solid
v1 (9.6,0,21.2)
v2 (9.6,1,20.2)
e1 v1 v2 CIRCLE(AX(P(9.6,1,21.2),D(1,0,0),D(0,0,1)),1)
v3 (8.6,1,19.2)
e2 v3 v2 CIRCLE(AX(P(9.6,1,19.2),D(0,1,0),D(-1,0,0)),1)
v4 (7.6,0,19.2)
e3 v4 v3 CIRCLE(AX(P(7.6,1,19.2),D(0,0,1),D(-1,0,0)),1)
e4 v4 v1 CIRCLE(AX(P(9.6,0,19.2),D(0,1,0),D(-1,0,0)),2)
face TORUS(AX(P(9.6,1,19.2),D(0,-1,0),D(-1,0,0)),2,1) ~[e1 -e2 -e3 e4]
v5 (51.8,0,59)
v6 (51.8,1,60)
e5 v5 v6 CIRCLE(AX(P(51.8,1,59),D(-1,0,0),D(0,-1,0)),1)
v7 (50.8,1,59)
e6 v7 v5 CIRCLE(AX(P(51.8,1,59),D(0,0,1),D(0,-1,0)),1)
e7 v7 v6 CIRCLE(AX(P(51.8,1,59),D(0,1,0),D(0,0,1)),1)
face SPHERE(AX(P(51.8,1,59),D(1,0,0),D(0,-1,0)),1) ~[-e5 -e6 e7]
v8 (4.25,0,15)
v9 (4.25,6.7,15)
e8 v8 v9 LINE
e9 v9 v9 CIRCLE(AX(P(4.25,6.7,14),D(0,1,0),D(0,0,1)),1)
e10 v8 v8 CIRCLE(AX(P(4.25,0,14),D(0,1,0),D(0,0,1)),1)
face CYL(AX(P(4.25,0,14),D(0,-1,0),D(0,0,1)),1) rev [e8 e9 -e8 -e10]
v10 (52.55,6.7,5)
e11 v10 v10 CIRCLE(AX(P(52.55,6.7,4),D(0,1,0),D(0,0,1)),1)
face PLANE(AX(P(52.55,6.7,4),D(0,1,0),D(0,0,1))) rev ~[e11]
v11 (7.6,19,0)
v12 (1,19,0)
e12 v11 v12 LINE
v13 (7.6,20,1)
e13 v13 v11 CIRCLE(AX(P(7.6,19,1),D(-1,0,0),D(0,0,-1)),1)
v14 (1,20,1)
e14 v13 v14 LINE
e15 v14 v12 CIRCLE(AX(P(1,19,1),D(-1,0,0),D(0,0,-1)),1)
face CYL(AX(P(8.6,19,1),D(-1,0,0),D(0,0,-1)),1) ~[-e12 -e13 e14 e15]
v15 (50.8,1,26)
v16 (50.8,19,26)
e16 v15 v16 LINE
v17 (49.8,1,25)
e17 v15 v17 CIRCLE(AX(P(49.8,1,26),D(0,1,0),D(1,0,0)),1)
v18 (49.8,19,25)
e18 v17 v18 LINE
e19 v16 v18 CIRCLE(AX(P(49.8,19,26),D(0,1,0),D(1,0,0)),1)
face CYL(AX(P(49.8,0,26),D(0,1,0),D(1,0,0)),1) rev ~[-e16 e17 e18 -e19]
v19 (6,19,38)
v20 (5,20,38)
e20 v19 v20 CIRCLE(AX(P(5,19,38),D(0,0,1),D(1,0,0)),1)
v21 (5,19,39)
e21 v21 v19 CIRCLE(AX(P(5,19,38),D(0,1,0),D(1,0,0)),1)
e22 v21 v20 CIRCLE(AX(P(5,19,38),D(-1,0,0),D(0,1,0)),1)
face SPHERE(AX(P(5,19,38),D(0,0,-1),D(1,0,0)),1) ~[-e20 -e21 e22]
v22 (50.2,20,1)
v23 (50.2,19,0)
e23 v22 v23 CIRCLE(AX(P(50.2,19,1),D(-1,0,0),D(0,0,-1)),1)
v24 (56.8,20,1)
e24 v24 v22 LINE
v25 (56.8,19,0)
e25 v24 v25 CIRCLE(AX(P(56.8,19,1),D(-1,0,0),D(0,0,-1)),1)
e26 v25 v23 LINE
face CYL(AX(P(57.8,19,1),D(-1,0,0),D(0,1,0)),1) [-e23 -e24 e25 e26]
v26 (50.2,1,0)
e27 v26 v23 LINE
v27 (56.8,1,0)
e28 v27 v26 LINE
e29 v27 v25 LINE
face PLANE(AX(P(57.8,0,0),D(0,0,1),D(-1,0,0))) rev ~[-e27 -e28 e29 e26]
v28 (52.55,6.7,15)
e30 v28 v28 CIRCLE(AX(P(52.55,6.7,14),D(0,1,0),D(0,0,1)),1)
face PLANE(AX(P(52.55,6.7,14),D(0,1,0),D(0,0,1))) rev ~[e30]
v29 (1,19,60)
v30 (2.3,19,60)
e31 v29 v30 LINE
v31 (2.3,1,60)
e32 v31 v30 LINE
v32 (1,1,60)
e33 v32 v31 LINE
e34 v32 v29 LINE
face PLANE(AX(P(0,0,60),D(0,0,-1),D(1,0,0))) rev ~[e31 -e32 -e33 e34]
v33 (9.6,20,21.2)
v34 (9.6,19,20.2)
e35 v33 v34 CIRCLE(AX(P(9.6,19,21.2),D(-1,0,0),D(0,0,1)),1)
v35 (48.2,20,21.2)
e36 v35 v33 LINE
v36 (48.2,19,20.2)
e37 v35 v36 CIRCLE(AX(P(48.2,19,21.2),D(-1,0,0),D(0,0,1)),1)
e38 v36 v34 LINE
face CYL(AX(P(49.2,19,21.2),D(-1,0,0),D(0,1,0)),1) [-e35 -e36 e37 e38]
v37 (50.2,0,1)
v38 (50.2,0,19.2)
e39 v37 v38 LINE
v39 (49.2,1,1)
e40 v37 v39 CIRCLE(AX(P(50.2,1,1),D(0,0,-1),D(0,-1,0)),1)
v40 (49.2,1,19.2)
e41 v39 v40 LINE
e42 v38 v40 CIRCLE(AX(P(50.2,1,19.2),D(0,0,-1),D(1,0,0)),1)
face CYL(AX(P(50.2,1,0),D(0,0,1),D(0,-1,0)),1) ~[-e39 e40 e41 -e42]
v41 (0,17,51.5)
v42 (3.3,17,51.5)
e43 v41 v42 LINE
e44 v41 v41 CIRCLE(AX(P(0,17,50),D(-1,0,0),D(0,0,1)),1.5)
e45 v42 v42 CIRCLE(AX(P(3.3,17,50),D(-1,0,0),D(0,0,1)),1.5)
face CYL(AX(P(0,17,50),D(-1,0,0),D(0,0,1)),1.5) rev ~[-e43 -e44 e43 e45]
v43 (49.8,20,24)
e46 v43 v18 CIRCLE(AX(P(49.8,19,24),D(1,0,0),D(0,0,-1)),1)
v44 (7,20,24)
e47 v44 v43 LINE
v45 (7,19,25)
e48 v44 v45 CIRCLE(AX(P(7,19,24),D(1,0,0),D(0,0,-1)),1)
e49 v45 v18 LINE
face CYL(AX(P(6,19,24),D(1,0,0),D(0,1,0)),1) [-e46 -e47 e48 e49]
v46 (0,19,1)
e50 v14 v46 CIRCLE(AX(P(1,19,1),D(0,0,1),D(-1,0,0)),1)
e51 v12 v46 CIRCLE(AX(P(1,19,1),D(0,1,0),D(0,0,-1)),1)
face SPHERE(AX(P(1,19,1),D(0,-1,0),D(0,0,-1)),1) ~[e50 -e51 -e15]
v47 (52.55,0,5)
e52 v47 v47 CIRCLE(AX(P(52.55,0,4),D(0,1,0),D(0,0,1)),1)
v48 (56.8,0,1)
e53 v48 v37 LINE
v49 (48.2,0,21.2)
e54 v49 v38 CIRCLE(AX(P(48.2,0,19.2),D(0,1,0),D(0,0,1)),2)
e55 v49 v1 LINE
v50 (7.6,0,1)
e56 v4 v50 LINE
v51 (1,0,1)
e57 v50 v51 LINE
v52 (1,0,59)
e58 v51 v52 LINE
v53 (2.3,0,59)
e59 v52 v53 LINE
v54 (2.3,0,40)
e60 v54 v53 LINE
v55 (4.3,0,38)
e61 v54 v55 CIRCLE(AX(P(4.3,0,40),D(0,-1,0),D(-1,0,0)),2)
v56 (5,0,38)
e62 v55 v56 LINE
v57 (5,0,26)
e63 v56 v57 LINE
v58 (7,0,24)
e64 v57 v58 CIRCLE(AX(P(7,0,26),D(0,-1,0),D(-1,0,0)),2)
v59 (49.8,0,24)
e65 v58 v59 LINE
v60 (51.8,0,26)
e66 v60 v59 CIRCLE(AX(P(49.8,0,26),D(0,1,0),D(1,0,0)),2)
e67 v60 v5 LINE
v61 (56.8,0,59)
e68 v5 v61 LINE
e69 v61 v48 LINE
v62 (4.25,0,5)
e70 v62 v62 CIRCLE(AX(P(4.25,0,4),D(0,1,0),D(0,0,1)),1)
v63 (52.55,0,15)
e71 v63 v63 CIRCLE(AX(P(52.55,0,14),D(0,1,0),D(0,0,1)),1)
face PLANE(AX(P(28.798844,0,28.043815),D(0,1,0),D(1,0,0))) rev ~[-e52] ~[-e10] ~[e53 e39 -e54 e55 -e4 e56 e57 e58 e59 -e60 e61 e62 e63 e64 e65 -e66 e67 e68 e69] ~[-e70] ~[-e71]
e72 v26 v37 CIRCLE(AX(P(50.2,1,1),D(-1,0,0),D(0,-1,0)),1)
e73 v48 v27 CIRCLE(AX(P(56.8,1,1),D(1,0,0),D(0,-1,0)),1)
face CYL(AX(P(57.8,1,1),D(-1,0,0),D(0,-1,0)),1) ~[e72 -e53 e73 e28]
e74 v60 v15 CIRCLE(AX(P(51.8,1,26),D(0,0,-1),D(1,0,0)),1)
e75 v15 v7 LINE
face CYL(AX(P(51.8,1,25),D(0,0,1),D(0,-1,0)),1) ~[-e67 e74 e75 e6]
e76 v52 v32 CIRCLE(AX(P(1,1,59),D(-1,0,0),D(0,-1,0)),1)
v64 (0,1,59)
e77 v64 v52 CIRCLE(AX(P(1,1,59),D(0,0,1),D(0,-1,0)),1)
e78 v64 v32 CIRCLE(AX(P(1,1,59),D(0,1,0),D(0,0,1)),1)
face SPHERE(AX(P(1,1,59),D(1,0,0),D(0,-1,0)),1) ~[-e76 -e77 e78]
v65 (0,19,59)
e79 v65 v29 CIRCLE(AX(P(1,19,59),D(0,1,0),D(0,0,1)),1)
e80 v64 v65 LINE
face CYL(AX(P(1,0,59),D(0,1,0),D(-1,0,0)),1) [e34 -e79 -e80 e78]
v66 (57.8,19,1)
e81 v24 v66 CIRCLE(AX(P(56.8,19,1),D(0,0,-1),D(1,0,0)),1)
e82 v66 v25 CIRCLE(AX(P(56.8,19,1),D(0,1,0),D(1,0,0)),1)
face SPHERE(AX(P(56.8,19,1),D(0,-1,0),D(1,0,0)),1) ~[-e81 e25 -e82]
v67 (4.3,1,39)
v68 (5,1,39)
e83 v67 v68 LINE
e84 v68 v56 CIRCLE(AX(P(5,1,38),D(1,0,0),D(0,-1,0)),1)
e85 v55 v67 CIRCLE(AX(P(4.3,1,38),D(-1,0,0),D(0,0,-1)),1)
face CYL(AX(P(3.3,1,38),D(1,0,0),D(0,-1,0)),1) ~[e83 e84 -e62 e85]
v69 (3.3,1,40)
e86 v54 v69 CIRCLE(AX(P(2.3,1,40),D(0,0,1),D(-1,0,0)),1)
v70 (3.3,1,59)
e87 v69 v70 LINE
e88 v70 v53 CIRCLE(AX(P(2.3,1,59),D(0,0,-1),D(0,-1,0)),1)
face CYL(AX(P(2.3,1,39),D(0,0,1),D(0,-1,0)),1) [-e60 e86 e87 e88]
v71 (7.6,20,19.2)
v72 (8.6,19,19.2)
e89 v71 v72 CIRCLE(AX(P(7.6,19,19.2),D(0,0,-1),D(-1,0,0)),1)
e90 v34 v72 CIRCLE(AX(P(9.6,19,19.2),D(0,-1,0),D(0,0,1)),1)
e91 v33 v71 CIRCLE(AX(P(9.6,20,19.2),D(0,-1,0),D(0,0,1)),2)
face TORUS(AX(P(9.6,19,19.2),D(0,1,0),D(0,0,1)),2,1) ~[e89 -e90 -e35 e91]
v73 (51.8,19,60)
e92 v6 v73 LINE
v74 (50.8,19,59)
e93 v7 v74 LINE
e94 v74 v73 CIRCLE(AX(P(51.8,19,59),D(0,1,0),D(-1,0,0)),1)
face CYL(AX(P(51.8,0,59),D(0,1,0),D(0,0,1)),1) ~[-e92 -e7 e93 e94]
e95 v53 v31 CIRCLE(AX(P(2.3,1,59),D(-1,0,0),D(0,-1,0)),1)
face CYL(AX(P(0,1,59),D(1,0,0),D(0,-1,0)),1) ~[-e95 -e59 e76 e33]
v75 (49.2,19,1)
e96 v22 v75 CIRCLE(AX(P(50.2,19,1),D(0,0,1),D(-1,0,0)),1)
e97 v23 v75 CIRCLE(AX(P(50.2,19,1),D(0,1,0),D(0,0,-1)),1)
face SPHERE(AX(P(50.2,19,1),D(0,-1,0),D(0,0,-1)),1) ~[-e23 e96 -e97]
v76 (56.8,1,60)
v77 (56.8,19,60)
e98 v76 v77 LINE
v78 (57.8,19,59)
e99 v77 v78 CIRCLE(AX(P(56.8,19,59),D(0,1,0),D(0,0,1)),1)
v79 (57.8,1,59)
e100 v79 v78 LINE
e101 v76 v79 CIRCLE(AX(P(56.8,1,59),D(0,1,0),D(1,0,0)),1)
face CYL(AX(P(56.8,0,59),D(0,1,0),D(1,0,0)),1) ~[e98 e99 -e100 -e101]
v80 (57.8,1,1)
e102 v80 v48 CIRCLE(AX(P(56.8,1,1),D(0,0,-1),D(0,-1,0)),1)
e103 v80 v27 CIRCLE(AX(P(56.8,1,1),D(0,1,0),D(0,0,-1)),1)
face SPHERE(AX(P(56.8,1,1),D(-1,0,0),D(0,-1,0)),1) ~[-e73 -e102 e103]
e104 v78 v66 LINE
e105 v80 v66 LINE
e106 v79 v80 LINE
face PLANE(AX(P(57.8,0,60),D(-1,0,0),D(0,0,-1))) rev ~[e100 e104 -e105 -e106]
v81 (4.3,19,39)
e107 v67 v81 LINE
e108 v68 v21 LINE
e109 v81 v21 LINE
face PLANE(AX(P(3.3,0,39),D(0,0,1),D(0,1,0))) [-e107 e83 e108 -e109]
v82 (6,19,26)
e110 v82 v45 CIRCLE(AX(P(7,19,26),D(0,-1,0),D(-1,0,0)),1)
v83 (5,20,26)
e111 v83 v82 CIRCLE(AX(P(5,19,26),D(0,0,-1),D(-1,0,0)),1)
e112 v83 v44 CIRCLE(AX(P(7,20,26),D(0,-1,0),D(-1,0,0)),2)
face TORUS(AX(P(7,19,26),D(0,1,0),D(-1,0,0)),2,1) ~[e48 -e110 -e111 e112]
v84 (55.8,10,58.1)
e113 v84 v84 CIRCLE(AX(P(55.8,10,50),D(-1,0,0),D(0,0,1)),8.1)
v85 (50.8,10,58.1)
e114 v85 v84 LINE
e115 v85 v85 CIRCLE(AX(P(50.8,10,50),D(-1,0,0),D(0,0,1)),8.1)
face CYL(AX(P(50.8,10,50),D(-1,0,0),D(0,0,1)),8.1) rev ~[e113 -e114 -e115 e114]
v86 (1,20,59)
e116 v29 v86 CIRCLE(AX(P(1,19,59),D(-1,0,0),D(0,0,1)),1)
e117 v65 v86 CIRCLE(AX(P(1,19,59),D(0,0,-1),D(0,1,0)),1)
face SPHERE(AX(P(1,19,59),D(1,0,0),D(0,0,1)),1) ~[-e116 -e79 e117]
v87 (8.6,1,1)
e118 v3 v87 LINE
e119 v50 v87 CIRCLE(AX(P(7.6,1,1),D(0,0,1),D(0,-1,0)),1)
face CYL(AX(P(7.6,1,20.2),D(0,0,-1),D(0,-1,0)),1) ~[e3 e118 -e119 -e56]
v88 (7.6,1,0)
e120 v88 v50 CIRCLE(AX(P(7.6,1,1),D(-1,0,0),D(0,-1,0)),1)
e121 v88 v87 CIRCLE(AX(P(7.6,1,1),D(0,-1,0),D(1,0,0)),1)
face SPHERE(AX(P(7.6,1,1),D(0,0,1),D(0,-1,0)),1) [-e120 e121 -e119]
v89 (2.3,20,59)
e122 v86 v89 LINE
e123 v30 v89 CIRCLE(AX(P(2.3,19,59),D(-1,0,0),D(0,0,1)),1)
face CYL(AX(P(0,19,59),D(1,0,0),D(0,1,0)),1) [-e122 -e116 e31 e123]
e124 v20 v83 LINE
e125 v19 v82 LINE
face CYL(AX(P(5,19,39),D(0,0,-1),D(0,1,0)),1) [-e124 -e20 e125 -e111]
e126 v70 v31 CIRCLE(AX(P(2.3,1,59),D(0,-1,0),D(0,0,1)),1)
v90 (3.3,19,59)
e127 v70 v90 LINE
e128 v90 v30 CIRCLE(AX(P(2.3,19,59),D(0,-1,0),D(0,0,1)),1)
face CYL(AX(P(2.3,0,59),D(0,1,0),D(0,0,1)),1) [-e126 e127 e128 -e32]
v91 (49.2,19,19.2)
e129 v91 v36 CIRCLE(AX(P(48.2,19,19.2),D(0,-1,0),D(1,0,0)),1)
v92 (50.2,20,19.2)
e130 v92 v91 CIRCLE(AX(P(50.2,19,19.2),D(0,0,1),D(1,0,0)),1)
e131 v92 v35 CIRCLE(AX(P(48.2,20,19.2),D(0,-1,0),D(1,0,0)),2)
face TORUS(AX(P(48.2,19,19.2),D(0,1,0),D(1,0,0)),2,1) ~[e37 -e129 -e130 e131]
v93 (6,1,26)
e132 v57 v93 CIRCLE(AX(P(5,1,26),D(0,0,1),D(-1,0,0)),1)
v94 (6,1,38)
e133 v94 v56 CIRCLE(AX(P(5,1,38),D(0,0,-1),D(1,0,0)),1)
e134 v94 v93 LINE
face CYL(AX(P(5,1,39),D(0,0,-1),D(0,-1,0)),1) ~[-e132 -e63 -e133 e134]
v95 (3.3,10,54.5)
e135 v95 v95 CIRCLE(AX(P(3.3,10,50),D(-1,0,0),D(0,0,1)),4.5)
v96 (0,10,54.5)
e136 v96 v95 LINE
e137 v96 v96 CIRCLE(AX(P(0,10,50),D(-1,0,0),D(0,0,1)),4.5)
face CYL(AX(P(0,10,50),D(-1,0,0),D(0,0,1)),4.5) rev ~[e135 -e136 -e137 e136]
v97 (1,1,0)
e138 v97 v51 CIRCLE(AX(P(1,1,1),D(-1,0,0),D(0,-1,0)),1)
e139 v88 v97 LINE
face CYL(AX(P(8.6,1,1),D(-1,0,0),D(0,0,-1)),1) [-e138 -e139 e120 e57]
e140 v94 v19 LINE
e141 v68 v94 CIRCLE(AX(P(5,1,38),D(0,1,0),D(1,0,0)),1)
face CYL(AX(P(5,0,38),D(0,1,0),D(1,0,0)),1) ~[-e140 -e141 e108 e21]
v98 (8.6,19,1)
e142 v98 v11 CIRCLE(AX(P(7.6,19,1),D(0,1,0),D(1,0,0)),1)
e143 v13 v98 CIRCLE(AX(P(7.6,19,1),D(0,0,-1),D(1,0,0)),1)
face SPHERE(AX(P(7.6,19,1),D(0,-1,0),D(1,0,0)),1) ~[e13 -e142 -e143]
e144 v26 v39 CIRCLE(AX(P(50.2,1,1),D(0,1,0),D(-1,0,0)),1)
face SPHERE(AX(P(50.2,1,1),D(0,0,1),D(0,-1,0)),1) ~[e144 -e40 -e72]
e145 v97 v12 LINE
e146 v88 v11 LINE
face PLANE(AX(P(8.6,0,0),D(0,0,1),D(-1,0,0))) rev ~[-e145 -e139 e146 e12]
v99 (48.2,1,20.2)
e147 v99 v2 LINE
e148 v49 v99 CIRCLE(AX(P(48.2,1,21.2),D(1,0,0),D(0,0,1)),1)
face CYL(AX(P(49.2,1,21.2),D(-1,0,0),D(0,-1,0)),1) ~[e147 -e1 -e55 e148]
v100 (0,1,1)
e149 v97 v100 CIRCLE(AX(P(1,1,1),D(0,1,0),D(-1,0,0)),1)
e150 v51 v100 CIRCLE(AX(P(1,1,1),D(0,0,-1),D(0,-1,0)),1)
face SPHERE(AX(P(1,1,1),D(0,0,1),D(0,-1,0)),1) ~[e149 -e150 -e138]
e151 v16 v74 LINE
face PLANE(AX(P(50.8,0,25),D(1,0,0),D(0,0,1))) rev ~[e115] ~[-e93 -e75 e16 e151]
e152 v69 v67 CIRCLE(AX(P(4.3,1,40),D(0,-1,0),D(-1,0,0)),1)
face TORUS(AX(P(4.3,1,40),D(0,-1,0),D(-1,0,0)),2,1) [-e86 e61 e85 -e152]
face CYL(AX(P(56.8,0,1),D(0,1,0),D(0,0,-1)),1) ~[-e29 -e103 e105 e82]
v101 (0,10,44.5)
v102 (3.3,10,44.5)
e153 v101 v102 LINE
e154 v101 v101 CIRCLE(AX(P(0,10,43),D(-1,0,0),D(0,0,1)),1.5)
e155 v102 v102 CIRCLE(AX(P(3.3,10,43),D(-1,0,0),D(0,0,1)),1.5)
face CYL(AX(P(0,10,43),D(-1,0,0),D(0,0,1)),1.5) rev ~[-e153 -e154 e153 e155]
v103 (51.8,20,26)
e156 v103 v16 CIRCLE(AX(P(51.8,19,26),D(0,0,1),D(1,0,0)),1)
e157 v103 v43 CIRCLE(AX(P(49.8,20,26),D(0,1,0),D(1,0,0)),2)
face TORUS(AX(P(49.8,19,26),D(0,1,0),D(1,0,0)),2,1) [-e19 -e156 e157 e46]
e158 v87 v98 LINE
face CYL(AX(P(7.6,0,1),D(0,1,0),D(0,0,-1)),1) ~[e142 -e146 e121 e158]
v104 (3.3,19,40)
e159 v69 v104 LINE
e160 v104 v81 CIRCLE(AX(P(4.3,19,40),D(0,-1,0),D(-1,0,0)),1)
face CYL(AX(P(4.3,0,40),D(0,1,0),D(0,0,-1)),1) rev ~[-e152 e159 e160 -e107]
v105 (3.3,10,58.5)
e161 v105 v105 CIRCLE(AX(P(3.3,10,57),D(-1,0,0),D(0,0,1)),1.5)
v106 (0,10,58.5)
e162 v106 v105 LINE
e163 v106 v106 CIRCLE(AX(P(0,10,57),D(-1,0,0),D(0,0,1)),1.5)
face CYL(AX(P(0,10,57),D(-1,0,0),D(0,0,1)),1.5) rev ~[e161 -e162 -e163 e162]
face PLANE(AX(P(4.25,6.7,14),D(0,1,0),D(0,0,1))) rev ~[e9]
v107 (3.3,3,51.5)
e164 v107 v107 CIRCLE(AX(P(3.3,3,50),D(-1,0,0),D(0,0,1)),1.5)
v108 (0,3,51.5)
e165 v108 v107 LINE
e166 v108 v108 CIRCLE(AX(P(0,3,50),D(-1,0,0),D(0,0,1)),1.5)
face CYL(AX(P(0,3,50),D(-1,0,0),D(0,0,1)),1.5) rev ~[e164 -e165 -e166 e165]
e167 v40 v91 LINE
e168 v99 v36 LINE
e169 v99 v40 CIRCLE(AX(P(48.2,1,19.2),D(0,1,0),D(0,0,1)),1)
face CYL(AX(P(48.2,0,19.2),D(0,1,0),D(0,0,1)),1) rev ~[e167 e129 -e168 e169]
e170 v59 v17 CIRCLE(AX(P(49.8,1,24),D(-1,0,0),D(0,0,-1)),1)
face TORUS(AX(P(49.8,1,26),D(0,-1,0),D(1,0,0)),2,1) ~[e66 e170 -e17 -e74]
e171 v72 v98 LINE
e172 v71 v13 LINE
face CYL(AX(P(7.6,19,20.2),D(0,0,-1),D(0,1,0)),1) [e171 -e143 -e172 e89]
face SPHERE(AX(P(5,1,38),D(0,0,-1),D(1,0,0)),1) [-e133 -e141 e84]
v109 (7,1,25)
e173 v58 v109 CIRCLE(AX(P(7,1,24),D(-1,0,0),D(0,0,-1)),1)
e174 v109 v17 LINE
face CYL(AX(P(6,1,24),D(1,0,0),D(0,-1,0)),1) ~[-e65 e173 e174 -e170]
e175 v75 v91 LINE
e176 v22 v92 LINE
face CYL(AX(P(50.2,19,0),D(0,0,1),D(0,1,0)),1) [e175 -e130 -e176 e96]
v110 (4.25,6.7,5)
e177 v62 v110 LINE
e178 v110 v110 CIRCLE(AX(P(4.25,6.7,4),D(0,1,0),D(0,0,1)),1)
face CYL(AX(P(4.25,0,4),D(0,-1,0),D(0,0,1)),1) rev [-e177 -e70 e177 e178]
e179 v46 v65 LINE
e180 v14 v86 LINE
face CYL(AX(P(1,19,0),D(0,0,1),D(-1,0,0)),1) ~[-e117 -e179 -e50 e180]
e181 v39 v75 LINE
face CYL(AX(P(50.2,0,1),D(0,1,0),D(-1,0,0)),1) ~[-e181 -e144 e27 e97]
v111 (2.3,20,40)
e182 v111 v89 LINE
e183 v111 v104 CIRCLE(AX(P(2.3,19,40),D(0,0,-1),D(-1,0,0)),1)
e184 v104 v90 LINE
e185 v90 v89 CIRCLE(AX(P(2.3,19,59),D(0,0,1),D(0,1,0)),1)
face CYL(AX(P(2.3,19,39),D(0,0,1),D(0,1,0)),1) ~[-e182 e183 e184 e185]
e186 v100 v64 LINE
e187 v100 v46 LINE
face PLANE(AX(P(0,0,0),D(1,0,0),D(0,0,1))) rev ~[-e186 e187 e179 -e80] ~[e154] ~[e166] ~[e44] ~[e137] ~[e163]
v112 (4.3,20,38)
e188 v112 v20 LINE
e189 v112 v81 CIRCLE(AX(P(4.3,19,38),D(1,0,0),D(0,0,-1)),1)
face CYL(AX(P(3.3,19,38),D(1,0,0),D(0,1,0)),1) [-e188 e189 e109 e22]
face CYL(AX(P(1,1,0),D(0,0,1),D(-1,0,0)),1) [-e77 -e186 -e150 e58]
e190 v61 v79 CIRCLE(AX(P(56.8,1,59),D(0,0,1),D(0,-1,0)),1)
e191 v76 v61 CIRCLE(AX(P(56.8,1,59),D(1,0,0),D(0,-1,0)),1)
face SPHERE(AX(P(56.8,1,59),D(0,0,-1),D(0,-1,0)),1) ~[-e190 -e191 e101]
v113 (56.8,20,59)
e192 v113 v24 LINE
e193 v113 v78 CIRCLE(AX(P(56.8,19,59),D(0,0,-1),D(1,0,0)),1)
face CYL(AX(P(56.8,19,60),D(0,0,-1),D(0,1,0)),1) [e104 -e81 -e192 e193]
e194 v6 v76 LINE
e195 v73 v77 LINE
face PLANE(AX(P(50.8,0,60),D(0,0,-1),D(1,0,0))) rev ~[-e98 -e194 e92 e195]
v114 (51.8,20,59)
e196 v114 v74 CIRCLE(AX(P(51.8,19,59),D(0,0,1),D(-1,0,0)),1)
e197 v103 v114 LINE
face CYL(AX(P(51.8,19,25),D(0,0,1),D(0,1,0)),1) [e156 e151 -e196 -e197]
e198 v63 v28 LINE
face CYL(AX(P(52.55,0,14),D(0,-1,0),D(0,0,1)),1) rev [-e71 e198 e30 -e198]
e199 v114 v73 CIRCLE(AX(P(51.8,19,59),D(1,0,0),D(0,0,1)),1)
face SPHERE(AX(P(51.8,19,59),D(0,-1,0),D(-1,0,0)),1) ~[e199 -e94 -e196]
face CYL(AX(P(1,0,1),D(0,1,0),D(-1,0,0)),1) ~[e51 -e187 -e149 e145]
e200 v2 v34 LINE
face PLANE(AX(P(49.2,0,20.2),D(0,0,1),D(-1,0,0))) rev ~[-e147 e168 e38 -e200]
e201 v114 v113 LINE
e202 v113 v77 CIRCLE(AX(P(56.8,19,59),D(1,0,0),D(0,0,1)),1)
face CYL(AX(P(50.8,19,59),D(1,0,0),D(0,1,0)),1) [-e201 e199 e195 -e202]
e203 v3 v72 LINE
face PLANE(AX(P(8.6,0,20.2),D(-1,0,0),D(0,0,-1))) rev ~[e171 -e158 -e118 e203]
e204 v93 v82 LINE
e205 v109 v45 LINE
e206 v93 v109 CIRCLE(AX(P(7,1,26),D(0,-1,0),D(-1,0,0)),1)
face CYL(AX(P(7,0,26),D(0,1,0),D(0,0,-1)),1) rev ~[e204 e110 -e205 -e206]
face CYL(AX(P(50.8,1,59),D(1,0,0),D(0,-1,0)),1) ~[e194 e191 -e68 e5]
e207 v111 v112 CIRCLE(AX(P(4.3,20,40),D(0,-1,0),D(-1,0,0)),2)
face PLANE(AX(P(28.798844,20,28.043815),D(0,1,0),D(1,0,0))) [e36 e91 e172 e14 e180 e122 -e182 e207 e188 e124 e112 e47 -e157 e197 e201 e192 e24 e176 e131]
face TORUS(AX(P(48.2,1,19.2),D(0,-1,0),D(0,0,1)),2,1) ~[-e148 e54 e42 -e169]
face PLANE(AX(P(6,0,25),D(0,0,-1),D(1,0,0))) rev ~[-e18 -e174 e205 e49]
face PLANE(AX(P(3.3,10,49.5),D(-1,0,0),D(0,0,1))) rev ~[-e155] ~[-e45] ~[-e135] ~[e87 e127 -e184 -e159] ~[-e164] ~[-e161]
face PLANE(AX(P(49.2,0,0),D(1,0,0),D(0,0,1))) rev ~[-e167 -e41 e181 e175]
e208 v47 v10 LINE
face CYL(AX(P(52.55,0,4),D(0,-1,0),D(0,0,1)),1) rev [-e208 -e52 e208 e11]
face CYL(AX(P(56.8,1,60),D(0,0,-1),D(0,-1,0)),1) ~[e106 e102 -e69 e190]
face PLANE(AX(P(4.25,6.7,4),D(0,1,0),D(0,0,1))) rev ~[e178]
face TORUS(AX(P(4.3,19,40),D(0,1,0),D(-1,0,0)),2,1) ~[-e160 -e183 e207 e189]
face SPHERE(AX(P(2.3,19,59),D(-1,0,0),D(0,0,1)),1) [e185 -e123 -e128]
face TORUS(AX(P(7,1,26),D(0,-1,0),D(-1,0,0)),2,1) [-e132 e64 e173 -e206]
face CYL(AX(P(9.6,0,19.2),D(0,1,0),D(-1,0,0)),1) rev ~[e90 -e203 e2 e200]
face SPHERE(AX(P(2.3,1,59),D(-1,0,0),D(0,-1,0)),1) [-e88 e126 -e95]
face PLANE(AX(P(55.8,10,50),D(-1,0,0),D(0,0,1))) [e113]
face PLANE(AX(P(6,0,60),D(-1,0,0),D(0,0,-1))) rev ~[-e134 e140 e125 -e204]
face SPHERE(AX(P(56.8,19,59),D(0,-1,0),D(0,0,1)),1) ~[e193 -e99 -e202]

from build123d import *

# Parameters (mm, degrees)
BOSS_EXTRUDE1_DEPTH = 20
SKETCH4_R           = 1.5
SKETCH4_R_2         = 4.5
CUT_EXTRUDE1_DEPTH  = 10
CUT_EXTRUDE3_START  = -3.3
SKETCH8_W           = 21
SKETCH8_H           = 20
CUT_EXTRUDE3_DEPTH  = 2.7
FILLET1_R           = 1
CUT_EXTRUDE2_START  = -20
SKETCH6_R           = 1
CUT_EXTRUDE2_DEPTH  = 6.7
SKETCH3_R           = 8.1
CUT_EXTRUDE4_DEPTH  = 5


with BuildPart() as part:
    # Sketch1 → Boss-Extrude1 (new body)
    with BuildSketch(Plane(origin=(0, 0, 0), x_dir=(1, 0, 0), z_dir=(0, 1, 0))):
        Polygon((0, 0), (0, -60), (6, -60), (6, -25), (50.8, -25), (50.8, -60), (57.8, -60), (57.8, 0), (49.2, 0), (49.2, -20.2), (8.6, -20.2), (8.6, 0), align=None)
    extrude(amount=BOSS_EXTRUDE1_DEPTH)

    # Sketch4 → Cut-Extrude1 (cut)
    with BuildSketch(Plane.ZY):
        with Locations((50, 17)):
            Circle(SKETCH4_R)
        with Locations((57, 10)):
            Circle(SKETCH4_R)
        with Locations((50, 3)):
            Circle(SKETCH4_R)
        with Locations((43, 10)):
            Circle(SKETCH4_R)
        with Locations((50, 10)):
            Circle(SKETCH4_R_2)
    extrude(amount=-CUT_EXTRUDE1_DEPTH, mode=Mode.SUBTRACT)

    # Sketch8 → Cut-Extrude3 (cut)
    with BuildSketch(Plane.ZY.offset(CUT_EXTRUDE3_START)):
        with Locations((49.5, 10)):
            Rectangle(SKETCH8_W, SKETCH8_H)
    extrude(amount=-CUT_EXTRUDE3_DEPTH, mode=Mode.SUBTRACT)

    # Fillet1
    fillet1_edges = [part.edges().sort_by_distance(p)[0] for p in [
        (8.6, 0, 10.1),
        (28.9, 0, 20.2),
        (1.65, 20, 60),
        (49.2, 0, 10.1),
        (53.5, 0, 0),
        (57.8, 0, 30),
        (54.3, 0, 60),
        (50.8, 0, 42.5),
        (28.4, 0, 25),
        (1.65, 0, 60),
        (0, 0, 30),
        (4.3, 0, 0),
        (8.6, 10, 0),
        (8.6, 10, 20.2),
        (49.2, 10, 20.2),
        (28.4, 20, 25),
        (49.2, 10, 0),
        (57.8, 10, 0),
        (57.8, 10, 60),
        (50.8, 10, 60),
        (50.8, 10, 25),
        (6, 10, 25),
        (0, 10, 60),
        (0, 10, 0),
        (50.8, 20, 42.5),
        (54.3, 20, 60),
        (57.8, 20, 30),
        (53.5, 20, 0),
        (49.2, 20, 10.1),
        (28.9, 20, 20.2),
        (8.6, 20, 10.1),
        (4.3, 20, 0),
        (6, 0, 32),
        (6, 20, 32),
        (3.3, 10, 39),
        (3.3, 0, 49.5),
        (3.3, 10, 60),
        (3.3, 20, 49.5),
        (6, 10, 39),
        (4.65, 0, 39),
        (4.65, 20, 39),
        (0, 20, 30),
    ]]
    fillet(fillet1_edges, radius=FILLET1_R)

    # Sketch6 → Cut-Extrude2 (cut)
    with BuildSketch(Plane(origin=(0, 20, 0), x_dir=(1, 0, 0), z_dir=(0, 1, 0)).offset(CUT_EXTRUDE2_START)):
        with Locations(Location((4.25, -4, 0), (0, 0, 270))):
            Circle(SKETCH6_R)
        with Locations(Location((4.25, -14, 0), (0, 0, 270))):
            Circle(SKETCH6_R)
        with Locations(Location((52.55, -14, 0), (0, 0, 270))):
            Circle(SKETCH6_R)
        with Locations(Location((52.55, -4, 0), (0, 0, 270))):
            Circle(SKETCH6_R)
    extrude(amount=CUT_EXTRUDE2_DEPTH, mode=Mode.SUBTRACT)

    # Sketch3 → Cut-Extrude4 (cut)
    with BuildSketch(Plane.ZY.offset(-50.8)):
        with Locations((50, 10)):
            Circle(SKETCH3_R)
    extrude(amount=-CUT_EXTRUDE4_DEPTH, mode=Mode.SUBTRACT)


solid = part.part
